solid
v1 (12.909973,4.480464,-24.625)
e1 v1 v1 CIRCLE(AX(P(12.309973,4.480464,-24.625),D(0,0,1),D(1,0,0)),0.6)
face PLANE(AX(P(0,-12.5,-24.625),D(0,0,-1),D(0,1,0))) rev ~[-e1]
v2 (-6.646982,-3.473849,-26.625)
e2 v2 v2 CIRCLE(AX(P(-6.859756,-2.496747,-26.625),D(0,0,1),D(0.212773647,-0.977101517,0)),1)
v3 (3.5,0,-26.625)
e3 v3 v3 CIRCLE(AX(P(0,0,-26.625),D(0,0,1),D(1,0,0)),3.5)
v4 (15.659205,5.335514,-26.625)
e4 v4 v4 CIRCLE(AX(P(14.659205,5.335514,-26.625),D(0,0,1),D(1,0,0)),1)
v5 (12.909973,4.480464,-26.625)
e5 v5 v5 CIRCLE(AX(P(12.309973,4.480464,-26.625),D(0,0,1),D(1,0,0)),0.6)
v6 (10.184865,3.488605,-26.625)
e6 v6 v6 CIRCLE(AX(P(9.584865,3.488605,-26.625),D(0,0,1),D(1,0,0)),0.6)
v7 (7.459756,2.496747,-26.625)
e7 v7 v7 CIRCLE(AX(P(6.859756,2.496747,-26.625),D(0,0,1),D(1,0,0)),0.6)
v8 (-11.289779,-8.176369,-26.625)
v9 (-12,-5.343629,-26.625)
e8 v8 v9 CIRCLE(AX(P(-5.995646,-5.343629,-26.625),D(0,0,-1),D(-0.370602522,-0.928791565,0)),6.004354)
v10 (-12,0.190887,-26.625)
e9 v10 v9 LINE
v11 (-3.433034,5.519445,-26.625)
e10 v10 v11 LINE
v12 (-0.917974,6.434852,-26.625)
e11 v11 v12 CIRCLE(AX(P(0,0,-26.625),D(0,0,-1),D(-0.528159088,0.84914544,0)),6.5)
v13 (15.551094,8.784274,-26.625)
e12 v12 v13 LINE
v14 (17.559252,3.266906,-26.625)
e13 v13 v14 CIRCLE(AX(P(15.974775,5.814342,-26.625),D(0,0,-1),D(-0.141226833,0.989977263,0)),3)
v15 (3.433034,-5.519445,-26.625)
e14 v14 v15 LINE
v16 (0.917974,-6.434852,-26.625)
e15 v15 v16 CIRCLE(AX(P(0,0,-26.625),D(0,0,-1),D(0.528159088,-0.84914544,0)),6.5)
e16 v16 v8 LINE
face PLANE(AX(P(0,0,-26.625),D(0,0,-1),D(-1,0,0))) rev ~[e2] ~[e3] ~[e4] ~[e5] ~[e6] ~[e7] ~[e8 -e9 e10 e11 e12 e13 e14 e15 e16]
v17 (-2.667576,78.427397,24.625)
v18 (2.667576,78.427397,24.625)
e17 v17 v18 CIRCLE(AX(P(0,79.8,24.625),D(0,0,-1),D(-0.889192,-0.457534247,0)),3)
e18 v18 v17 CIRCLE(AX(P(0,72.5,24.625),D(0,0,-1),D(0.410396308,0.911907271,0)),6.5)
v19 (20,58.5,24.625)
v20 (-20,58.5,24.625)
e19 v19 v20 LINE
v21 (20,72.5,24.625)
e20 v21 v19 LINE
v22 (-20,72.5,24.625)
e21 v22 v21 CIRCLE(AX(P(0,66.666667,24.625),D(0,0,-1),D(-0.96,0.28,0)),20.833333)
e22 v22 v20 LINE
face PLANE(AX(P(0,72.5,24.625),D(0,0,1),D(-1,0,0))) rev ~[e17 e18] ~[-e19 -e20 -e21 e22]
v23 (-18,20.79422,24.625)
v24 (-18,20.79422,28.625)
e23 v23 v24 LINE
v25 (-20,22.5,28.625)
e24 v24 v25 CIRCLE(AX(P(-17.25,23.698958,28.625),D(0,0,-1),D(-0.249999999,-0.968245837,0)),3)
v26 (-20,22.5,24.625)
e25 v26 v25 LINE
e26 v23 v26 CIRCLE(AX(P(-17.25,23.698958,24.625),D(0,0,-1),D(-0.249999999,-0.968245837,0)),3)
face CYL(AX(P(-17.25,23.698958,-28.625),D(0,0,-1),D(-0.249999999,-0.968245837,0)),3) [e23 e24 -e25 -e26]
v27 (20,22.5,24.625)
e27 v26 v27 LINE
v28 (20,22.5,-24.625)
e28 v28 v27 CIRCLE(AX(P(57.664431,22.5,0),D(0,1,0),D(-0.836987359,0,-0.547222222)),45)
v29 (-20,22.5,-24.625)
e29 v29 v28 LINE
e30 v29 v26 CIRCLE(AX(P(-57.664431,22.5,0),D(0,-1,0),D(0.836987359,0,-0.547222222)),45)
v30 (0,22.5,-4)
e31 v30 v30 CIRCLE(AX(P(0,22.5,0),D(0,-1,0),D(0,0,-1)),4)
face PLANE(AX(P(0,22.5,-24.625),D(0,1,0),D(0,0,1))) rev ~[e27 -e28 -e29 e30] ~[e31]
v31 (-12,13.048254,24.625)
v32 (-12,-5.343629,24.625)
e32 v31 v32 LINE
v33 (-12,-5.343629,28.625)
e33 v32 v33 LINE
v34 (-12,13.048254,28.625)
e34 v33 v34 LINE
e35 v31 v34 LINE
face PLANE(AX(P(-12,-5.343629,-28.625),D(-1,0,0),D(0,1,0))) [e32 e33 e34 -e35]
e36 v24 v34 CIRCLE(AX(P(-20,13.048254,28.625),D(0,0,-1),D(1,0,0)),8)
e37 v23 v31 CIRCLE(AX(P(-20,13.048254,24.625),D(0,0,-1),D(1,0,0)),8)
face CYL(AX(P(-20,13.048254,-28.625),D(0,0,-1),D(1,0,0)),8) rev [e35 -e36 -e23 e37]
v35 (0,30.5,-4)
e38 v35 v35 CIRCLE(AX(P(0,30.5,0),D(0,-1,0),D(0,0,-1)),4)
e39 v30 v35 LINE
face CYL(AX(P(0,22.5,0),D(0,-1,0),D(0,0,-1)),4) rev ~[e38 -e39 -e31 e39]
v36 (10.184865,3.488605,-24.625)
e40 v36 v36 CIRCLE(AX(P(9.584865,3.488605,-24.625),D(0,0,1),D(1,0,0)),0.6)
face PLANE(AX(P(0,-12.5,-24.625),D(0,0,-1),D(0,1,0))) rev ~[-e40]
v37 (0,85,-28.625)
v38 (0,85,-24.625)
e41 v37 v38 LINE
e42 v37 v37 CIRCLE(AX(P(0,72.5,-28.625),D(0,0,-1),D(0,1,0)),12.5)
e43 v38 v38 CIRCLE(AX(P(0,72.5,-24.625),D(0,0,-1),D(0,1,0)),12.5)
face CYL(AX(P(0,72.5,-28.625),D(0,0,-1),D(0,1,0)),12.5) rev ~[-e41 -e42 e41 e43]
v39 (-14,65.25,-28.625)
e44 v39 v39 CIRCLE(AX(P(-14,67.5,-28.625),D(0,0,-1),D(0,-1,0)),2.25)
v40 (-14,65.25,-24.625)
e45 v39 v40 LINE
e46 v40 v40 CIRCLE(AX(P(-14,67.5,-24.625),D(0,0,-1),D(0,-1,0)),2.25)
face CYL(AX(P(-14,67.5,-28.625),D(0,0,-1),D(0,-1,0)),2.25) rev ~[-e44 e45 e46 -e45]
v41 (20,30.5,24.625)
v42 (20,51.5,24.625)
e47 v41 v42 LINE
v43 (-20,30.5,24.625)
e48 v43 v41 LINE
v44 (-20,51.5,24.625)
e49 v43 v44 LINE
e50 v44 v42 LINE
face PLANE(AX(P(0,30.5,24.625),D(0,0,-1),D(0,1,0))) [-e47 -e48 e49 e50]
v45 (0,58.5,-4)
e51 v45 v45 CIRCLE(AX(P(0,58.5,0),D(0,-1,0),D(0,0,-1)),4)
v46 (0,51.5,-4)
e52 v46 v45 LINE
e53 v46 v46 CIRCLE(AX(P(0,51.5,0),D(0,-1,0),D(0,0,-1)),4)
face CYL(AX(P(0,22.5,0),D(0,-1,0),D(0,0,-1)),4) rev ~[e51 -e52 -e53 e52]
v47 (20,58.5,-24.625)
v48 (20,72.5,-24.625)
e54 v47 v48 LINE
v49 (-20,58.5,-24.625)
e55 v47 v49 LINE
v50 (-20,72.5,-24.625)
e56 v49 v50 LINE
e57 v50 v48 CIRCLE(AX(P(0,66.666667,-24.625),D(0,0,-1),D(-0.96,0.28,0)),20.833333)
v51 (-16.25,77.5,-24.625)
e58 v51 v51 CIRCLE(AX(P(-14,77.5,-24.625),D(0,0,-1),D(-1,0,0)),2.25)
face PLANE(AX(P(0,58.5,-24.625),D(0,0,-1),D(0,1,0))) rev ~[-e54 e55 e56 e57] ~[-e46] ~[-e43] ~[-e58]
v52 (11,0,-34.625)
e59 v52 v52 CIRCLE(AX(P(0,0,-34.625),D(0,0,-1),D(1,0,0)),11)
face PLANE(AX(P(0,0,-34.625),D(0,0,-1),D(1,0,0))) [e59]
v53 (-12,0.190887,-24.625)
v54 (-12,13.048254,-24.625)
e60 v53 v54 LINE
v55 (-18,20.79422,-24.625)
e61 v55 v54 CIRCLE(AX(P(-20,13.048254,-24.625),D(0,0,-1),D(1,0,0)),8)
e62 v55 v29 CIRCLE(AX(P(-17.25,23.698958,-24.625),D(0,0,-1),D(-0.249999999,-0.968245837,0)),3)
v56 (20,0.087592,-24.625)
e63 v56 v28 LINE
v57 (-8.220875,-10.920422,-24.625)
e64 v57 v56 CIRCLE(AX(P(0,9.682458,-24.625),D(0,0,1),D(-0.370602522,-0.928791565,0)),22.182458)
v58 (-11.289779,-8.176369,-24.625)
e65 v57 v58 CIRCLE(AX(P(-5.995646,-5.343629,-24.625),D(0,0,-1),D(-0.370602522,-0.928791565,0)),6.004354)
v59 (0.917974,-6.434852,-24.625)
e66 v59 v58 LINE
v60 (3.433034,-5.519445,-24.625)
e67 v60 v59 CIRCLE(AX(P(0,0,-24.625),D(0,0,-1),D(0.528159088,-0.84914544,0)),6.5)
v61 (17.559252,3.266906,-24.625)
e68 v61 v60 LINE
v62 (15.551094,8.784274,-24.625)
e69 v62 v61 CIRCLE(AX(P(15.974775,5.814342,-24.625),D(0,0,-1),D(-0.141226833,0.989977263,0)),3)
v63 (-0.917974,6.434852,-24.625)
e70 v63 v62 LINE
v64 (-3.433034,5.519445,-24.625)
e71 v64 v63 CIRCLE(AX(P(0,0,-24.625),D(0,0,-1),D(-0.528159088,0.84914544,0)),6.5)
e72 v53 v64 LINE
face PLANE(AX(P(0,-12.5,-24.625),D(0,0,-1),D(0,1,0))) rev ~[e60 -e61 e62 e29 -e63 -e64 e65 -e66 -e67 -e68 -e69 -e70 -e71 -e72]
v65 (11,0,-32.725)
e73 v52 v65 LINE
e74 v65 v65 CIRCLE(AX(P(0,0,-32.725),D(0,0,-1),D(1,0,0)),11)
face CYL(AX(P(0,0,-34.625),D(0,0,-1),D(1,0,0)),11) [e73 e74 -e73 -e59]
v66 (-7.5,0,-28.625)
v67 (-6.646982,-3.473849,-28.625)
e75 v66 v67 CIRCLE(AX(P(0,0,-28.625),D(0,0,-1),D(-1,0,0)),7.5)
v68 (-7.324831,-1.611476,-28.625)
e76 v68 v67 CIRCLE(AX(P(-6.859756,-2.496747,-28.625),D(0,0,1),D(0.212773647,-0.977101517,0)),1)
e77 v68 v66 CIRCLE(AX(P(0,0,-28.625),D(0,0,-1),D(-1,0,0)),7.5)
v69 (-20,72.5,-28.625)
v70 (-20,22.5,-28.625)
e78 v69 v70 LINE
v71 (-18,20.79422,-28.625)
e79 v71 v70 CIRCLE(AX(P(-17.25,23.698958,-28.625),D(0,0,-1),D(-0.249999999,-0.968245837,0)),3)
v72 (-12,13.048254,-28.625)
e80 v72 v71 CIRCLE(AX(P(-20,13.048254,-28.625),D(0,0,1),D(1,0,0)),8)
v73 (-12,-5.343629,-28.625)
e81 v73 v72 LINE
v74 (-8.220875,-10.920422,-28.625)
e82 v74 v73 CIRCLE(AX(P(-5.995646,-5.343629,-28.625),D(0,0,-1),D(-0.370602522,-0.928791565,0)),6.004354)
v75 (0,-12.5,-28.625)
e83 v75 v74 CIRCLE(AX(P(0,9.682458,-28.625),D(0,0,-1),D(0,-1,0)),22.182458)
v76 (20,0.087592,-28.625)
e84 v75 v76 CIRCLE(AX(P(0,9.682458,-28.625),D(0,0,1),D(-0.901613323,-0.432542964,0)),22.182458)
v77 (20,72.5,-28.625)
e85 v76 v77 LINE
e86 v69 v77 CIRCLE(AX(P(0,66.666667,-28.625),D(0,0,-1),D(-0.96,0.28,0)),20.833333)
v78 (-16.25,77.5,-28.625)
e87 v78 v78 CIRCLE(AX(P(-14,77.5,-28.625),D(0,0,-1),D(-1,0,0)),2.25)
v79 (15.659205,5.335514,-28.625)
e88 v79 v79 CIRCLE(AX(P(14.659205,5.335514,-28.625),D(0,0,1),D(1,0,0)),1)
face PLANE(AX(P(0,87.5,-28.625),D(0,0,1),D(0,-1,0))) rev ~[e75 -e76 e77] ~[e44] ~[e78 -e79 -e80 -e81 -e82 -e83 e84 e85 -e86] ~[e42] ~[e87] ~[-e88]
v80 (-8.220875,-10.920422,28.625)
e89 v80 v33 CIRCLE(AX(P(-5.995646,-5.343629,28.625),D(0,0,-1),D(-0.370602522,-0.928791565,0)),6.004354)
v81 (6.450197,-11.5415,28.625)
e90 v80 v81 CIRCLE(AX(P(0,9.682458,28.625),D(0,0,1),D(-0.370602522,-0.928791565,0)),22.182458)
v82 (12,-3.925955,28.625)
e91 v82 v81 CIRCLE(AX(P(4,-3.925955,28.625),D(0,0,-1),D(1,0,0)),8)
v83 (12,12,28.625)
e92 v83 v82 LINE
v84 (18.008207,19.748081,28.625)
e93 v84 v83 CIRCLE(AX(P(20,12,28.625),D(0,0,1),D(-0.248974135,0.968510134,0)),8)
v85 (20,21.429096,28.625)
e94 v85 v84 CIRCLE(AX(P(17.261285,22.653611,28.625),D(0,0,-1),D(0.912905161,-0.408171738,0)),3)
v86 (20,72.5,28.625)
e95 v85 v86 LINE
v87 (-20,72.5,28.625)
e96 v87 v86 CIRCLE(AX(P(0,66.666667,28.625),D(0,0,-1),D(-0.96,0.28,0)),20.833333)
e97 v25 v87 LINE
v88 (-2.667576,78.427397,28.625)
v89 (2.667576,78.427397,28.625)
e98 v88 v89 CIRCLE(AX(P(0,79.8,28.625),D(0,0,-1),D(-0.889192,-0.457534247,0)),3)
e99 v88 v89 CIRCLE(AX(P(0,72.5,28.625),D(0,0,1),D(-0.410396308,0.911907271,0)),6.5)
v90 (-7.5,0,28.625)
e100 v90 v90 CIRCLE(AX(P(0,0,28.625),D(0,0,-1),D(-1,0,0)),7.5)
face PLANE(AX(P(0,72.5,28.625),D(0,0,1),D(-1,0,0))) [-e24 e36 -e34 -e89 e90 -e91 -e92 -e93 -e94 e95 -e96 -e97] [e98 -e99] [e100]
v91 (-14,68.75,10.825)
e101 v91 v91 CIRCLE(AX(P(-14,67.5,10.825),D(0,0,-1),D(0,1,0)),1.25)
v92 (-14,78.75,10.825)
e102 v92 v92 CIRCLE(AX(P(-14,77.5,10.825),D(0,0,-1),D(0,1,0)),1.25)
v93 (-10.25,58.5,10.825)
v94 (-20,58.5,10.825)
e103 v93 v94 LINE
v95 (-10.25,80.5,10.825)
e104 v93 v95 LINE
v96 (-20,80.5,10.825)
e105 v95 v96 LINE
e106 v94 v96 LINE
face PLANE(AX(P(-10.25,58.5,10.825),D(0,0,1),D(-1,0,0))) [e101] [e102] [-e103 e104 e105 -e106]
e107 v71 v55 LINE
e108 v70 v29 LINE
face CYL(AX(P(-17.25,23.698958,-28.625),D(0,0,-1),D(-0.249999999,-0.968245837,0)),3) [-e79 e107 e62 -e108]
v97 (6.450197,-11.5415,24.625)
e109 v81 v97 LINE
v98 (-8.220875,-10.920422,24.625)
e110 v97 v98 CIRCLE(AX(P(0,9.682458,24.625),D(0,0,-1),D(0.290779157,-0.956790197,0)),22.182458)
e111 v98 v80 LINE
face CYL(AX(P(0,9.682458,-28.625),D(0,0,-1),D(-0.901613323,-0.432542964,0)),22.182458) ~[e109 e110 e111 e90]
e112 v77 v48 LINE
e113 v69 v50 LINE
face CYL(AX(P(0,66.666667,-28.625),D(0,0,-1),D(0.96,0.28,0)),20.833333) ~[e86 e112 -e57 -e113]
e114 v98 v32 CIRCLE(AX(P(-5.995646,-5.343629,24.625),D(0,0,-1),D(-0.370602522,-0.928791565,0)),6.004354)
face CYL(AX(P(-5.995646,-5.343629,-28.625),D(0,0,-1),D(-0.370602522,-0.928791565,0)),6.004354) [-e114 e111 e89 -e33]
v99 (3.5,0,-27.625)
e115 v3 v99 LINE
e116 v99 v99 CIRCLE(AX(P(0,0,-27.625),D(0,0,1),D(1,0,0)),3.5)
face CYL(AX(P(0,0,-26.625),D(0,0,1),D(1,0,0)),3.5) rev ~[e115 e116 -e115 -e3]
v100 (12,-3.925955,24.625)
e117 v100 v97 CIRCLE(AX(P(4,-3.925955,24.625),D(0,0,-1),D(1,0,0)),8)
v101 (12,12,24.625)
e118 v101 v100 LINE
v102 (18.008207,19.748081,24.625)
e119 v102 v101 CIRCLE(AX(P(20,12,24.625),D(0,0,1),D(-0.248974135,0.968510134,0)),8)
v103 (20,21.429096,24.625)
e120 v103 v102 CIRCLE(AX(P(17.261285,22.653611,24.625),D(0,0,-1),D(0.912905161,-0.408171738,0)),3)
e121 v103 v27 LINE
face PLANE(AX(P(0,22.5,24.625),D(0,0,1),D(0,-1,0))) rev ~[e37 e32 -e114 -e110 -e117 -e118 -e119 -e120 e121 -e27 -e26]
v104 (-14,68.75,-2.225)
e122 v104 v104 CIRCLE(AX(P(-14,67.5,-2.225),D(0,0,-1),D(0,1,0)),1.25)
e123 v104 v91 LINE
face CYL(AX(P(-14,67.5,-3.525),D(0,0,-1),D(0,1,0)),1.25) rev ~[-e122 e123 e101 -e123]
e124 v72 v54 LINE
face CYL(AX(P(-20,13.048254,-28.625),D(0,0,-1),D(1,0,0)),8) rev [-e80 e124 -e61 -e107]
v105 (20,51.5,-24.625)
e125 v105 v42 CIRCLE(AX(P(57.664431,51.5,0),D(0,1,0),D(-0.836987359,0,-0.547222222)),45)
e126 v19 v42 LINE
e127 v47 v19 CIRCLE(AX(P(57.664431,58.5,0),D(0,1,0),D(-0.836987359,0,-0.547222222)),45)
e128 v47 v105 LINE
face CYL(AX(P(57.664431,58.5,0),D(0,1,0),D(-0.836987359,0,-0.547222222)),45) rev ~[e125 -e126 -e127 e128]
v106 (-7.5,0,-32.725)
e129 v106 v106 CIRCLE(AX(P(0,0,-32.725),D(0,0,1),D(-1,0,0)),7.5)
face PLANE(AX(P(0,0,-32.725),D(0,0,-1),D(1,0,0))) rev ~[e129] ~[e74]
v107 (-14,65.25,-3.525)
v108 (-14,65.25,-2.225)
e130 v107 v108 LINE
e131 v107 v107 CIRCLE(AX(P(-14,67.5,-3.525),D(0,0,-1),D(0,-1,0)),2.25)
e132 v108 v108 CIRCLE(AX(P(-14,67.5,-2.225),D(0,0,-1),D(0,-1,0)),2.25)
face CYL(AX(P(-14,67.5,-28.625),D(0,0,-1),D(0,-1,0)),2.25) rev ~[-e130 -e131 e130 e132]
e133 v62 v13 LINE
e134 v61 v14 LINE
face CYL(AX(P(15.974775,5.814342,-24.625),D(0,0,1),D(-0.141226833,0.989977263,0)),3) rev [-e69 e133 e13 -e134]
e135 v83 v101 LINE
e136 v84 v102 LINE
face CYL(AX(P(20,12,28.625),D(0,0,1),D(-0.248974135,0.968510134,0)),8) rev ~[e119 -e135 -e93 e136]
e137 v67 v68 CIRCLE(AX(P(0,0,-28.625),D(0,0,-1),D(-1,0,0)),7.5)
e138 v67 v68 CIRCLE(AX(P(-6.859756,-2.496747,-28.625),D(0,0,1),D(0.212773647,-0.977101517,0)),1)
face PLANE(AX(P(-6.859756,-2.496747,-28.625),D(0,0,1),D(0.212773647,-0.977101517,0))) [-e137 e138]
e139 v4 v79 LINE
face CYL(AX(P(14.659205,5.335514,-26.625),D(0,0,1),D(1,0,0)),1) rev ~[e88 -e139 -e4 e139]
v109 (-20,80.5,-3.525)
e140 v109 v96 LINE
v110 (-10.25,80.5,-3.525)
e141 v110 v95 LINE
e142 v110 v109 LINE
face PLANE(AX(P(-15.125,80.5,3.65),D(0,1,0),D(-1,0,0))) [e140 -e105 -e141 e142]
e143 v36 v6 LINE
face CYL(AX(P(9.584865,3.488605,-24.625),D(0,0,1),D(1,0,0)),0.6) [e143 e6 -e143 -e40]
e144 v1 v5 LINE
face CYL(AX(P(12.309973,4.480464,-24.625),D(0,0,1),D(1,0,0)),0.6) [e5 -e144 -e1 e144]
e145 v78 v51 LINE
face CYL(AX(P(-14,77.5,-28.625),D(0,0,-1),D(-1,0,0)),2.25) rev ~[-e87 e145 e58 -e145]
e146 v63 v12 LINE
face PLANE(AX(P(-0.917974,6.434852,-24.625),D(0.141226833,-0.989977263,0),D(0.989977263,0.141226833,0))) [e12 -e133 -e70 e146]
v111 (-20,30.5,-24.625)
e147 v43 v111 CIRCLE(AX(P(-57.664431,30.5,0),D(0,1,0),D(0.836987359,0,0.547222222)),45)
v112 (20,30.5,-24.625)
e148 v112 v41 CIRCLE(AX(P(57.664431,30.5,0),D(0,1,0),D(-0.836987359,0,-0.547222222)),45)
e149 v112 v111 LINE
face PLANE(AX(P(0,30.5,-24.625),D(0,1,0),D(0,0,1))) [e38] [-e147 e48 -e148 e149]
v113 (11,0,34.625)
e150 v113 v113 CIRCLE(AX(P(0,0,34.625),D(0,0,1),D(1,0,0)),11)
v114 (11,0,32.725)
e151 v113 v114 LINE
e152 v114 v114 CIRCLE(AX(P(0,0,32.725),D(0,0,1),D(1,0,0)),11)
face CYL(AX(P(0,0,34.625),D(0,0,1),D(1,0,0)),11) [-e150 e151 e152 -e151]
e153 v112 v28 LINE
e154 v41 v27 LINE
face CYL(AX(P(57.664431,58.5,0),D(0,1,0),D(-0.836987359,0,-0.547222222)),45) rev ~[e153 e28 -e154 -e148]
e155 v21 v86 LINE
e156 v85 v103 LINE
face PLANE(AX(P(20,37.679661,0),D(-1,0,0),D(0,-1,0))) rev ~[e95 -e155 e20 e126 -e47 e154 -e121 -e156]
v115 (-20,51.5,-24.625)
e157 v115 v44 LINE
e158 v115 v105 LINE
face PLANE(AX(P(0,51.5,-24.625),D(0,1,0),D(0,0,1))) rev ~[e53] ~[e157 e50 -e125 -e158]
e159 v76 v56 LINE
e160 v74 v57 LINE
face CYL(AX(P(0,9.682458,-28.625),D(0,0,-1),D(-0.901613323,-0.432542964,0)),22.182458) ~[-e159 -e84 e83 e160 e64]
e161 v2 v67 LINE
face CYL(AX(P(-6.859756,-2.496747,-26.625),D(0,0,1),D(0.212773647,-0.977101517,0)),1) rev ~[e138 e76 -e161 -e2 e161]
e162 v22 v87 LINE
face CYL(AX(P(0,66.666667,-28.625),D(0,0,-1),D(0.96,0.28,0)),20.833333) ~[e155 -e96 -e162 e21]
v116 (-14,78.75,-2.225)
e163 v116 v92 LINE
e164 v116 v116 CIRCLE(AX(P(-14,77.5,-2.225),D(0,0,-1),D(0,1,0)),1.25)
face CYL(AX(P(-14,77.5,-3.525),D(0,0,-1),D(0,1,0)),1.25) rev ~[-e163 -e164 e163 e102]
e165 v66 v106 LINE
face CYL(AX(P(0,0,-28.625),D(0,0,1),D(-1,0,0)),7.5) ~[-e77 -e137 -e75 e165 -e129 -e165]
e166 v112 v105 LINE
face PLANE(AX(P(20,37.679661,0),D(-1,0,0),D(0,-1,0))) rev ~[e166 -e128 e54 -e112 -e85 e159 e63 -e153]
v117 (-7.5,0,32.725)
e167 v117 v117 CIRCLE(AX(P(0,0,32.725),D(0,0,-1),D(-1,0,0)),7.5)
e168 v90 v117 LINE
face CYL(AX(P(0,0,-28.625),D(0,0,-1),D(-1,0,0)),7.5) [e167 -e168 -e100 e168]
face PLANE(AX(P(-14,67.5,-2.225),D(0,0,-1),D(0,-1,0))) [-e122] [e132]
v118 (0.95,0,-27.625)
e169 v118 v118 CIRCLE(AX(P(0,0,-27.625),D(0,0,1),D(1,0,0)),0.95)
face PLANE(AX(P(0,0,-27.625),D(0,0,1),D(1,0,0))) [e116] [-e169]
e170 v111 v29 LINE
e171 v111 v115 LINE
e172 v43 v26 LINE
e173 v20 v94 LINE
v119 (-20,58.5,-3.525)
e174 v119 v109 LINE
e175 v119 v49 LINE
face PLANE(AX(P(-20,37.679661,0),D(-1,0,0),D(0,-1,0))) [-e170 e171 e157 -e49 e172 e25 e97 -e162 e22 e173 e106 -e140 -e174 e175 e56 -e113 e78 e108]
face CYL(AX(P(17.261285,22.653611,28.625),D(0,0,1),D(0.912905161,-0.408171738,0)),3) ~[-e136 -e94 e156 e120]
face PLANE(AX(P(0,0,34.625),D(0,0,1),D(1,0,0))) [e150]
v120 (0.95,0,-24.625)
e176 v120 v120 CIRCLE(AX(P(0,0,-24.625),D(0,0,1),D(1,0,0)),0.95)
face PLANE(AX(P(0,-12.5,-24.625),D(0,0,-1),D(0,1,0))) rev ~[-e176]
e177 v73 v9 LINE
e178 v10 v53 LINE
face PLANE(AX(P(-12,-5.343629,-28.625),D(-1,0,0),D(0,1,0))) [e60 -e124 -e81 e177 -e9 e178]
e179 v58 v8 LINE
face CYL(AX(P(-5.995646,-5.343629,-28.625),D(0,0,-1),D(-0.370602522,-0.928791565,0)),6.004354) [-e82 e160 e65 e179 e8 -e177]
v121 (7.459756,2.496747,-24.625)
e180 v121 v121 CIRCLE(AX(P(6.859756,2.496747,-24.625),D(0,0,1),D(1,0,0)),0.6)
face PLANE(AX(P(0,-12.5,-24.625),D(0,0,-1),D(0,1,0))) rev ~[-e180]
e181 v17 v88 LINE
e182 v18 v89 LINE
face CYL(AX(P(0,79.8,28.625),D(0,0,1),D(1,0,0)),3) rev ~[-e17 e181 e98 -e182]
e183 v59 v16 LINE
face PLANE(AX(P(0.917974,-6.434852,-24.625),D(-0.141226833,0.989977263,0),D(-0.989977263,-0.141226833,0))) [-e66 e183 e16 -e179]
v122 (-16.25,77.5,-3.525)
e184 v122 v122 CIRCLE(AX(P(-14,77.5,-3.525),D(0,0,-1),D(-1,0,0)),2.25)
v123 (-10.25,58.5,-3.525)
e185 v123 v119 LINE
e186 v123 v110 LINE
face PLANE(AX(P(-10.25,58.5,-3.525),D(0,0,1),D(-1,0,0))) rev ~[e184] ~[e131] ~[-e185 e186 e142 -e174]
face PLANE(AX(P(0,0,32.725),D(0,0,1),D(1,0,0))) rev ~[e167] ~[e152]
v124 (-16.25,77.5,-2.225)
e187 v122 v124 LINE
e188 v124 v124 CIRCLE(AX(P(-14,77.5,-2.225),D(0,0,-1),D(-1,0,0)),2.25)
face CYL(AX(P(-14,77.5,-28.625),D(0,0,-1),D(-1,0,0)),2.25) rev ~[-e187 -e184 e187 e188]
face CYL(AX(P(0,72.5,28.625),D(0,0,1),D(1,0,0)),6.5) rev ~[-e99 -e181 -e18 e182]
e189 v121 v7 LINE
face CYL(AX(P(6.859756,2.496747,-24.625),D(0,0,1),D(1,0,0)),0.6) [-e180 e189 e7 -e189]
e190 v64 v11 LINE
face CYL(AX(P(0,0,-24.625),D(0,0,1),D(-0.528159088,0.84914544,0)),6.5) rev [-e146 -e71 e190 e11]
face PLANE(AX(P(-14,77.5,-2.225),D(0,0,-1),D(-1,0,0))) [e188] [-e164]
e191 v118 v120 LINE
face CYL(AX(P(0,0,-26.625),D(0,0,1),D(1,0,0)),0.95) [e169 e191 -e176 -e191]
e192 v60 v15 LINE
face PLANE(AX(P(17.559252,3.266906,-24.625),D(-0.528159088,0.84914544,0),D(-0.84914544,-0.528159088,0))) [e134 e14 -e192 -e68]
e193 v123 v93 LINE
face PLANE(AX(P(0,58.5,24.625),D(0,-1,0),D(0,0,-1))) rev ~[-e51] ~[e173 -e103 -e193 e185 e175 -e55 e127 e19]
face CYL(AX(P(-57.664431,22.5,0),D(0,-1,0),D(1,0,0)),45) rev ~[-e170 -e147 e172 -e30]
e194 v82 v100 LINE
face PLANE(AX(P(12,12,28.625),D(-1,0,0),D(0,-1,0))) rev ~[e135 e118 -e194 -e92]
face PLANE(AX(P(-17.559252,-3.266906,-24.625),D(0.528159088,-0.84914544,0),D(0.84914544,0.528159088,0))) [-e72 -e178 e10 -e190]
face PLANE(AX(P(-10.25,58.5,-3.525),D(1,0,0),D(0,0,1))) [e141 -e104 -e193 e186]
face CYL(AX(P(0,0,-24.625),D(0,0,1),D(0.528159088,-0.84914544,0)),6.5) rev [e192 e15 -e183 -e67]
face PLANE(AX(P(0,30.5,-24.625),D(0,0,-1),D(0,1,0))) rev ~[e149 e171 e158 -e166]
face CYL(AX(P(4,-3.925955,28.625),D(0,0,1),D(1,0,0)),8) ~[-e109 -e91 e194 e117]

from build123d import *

# Parameters (mm, degrees)
SKETCH1_W                = 21
SKETCH1_H                = 49.25
BOSS_EXTRUDE1_DEPTH      = 20
SKETCH4_R                = 7.5
BOSS_EXTRUDE2_DEPTH      = 6
BOSS_EXTRUDE2_DEPTH_BACK = 63.25
SKETCH2_W                = 50
SKETCH2_H                = 112.412407925
SKETCH2_R                = 12.5
CUT_EXTRUDE1_DEPTH       = 110.803517703
CUT_EXTRUDE1_DEPTH_BACK  = 110.803517703
SKETCH5_W                = 20
SKETCH5_H                = 49.25
CUT_EXTRUDE2_DEPTH       = 103.250382029
CUT_EXTRUDE3_DEPTH       = 110.803517703
SKETCH7_W                = 9.75
SKETCH7_H                = 14.35
BOSS_EXTRUDE3_DEPTH      = 22
CUT_EXTRUDE4_REACH       = 99.528
SKETCH8_R                = 1.25
SKETCH9_R                = 2.25
CUT_EXTRUDE5_DEPTH       = 26.4
SKETCH10_R               = 0.6
SKETCH10_R_2             = 0.95
CUT_EXTRUDE6_DEPTH       = 2
SKETCH17_R               = 3.5
SKETCH17_R_2             = 0.95
CUT_EXTRUDE11_DEPTH      = 1
SKETCH11_R               = 1
CUT_EXTRUDE7_DEPTH       = 2
CUT_EXTRUDE8_DEPTH       = 4
CUT_EXTRUDE9_DEPTH       = 82.485524021
SKETCH14_R               = 12.5
SKETCH14_R_2             = 6.5
BOSS_EXTRUDE4_DEPTH      = 4
SKETCH16_R               = 3
CUT_EXTRUDE10_DEPTH      = 4
SKETCH18_R               = 11
BOSS_EXTRUDE5_DEPTH      = 1.9
SKETCH19_R               = 11
BOSS_EXTRUDE6_DEPTH      = 1.9
SKETCH20_R               = 4
CUT_EXTRUDE12_DEPTH      = 75
SKETCH22_R               = 45
CUT_EXTRUDE14_DEPTH      = 8


with BuildPart() as part:
    # Sketch1 → Boss-Extrude1 (new, symmetric)
    with BuildSketch(Plane.YZ):
        Polygon((-12.5, 24.625), (-12.5, 28.625), (87.5, 28.625), (87.5, 24.625), (58.5, 24.625), (58.5, -24.625), (87.5, -24.625), (87.5, -28.625), (-12.5, -28.625), (-12.5, -24.625), (22.5, -24.625), (22.5, 24.625), align=None)
        with Locations((41, 0)):
            Rectangle(SKETCH1_W, SKETCH1_H, mode=Mode.SUBTRACT)
    extrude(amount=BOSS_EXTRUDE1_DEPTH, both=True)

    # Sketch4 → Boss-Extrude2 (add, two sides)
    with BuildSketch(Plane(origin=(0, 0, -28.625), x_dir=(1, 0, 0), z_dir=(0, 0, -1))) as boss_extrude2_sk:
        with Locations(Location((0, 0, 0), (0, 0, 180))):
            Circle(SKETCH4_R)
    extrude(amount=BOSS_EXTRUDE2_DEPTH)
    extrude(boss_extrude2_sk.sketch, amount=-BOSS_EXTRUDE2_DEPTH_BACK)

    # Sketch2 → Cut-Extrude1 (cut, two sides)
    with BuildSketch(Plane(origin=(0, 0, -28.625), x_dir=(1, 0, 0), z_dir=(0, 0, -1))) as cut_extrude1_sk:
        with Locations((0, -36.293796038)):
            Rectangle(SKETCH2_W, SKETCH2_H)
        with BuildLine():
            Line((20, -0.087592075), (20, -72.5))
            ThreePointArc((20, -72.5), (0, -87.5), (-20, -72.5))
            Line((-20, -72.5), (-20, -0.087592075))
            ThreePointArc((-20, -0.087592075), (0, 12.5), (20, -0.087592075))
        make_face(mode=Mode.SUBTRACT)
        with Locations(Location((0, -72.5, 0), (0, 0, 270))):
            Circle(SKETCH2_R)
    extrude(amount=CUT_EXTRUDE1_DEPTH, mode=Mode.SUBTRACT)
    extrude(cut_extrude1_sk.sketch, amount=-CUT_EXTRUDE1_DEPTH_BACK, mode=Mode.SUBTRACT)

    # Sketch5 → Cut-Extrude2 (cut, through all)
    with BuildSketch(Plane.YZ.offset(20)):
        Rectangle(SKETCH5_W, SKETCH5_H)
    extrude(amount=-CUT_EXTRUDE2_DEPTH, mode=Mode.SUBTRACT)

    # Sketch6 → Cut-Extrude3 (cut, through all)
    with BuildSketch(Plane(origin=(0, 0, -28.625), x_dir=(1, 0, 0), z_dir=(0, 0, -1))):
        with BuildLine():
            Line((-12, 5.343628911), (-12, -13.048253679))
            ThreePointArc((-12, -13.048253679), (-13.67544468, -17.947233164), (-18, -20.794220371))
            ThreePointArc((-18, -20.794220371), (-19.196771953, -21.416398141), (-20, -22.5))
            Line((-20, -22.5), (-20, 15.418169496))
            Line((-20, 15.418169496), (0, 15.418169496))
            Line((0, 15.418169496), (0, 12.5))
            ThreePointArc((0, 12.5), (-4.185625792, 12.101526483), (-8.220875011, 10.92042185))
            ThreePointArc((-8.220875011, 10.92042185), (-10.966225922, 8.711952128), (-12, 5.343628911))
        make_face()
    extrude(amount=-CUT_EXTRUDE3_DEPTH, mode=Mode.SUBTRACT)

    # Sketch7 → Boss-Extrude3 (add)
    with BuildSketch(Plane(origin=(0, 58.5, 0), x_dir=(-1, 0, 0), z_dir=(0, 1, 0))):
        with Locations((15.125, 3.65)):
            Rectangle(SKETCH7_W, SKETCH7_H)
    extrude(amount=BOSS_EXTRUDE3_DEPTH)

    # Sketch8 → Cut-Extrude4 (cut, up to next)
    with BuildSketch(Plane(origin=(0, 0, -3.525), x_dir=(1, 0, 0), z_dir=(0, 0, -1)), mode=Mode.PRIVATE) as cut_extrude4_sk1:
        with Locations(Location((-14, -67.5, 0), (0, 0, 270))):
            Circle(SKETCH8_R)
    cut_extrude4_tool1 = extrude(cut_extrude4_sk1.sketch, amount=-CUT_EXTRUDE4_REACH, mode=Mode.PRIVATE) & part.part
    # Sketch8 → Cut-Extrude4 (cut, up to next)
    with BuildSketch(Plane(origin=(0, 0, -3.525), x_dir=(1, 0, 0), z_dir=(0, 0, -1)), mode=Mode.PRIVATE) as cut_extrude4_sk2:
        with Locations(Location((-14, -77.5, 0), (0, 0, 270))):
            Circle(SKETCH8_R)
    cut_extrude4_tool2 = extrude(cut_extrude4_sk2.sketch, amount=-CUT_EXTRUDE4_REACH, mode=Mode.PRIVATE) & part.part
    add(cut_extrude4_tool1.solids().sort_by_distance((-14, 67.5, -3.525))[0], mode=Mode.SUBTRACT)
    add(cut_extrude4_tool2.solids().sort_by_distance((-14, 77.5, -3.525))[0], mode=Mode.SUBTRACT)

    # Sketch9 → Cut-Extrude5 (cut)
    with BuildSketch(Plane(origin=(0, 0, -28.625), x_dir=(1, 0, 0), z_dir=(0, 0, -1))):
        with Locations(Location((-14, -77.5, 0), (0, 0, 180))):
            Circle(SKETCH9_R)
        with Locations(Location((-14, -67.5, 0), (0, 0, 90))):
            Circle(SKETCH9_R)
    extrude(amount=-CUT_EXTRUDE5_DEPTH, mode=Mode.SUBTRACT)

    # Sketch10 → Cut-Extrude6 (cut)
    with BuildSketch(Plane.XY.offset(-24.625)):
        with BuildLine():
            Line((-0.917974412, 6.434852211), (15.551094055, 8.784274226))
            ThreePointArc((15.551094055, 8.784274226), (18.793852416, 6.840402867), (17.559251818, 3.266906118))
            Line((17.559251818, 3.266906118), (3.433034074, -5.519445357))
            ThreePointArc((3.433034074, -5.519445357), (2.223130932, -6.108002035), (0.917974412, -6.434852211))
            Line((0.917974412, -6.434852211), (-15.551094055, -8.784274226))
            ThreePointArc((-15.551094055, -8.784274226), (-18.793852416, -6.840402867), (-17.559251818, -3.266906118))
            Line((-17.559251818, -3.266906118), (-3.433034074, 5.519445357))
            ThreePointArc((-3.433034074, 5.519445357), (-2.223130932, 6.108002035), (-0.917974412, 6.434852211))
        make_face()
        with Locations((12.309973332, 4.480463878)):
            Circle(SKETCH10_R, mode=Mode.SUBTRACT)
        with Locations((9.584864732, 3.488605462)):
            Circle(SKETCH10_R, mode=Mode.SUBTRACT)
        with Locations((6.859756132, 2.496747046)):
            Circle(SKETCH10_R, mode=Mode.SUBTRACT)
        Circle(SKETCH10_R_2, mode=Mode.SUBTRACT)
    extrude(amount=-CUT_EXTRUDE6_DEPTH, mode=Mode.SUBTRACT)

    # Sketch17 → Cut-Extrude11 (cut)
    with BuildSketch(Plane.XY.offset(-26.625)):
        Circle(SKETCH17_R)
        Circle(SKETCH17_R_2, mode=Mode.SUBTRACT)
    extrude(amount=-CUT_EXTRUDE11_DEPTH, mode=Mode.SUBTRACT)

    # Sketch11 → Cut-Extrude7 (cut)
    with BuildSketch(Plane.XY.offset(-26.625)):
        with Locations((14.659204884, 5.335514236)):
            Circle(SKETCH11_R)
        with Locations(Location((-6.859756132, -2.496747046, 0), (0, 0, 282.284944741))):
            Circle(SKETCH11_R)
    extrude(amount=-CUT_EXTRUDE7_DEPTH, mode=Mode.SUBTRACT)

    # Sketch12 → Cut-Extrude8 (cut)
    with BuildSketch(Plane.XY.offset(28.625)):
        with BuildLine():
            Line((0, -12.5), (0, -18.039119765))
            Line((0, -18.039119765), (20, -18.039119765))
            Line((20, -18.039119765), (20, 21.429096263))
            ThreePointArc((20, 21.429096263), (19.196193013, 20.360986537), (18.008206922, 19.748081074))
            ThreePointArc((18.008206922, 19.748081074), (13.678040469, 16.902328803), (12, 12))
            Line((12, 12), (12, -3.925954614))
            ThreePointArc((12, -3.925954614), (10.465352752, -8.637558778), (6.450196551, -11.541500351))
            ThreePointArc((6.450196551, -11.541500351), (3.264426341, -12.285407289), (0, -12.5))
        make_face()
    extrude(amount=-CUT_EXTRUDE8_DEPTH, mode=Mode.SUBTRACT)

    # Sketch13 → Cut-Extrude9 (cut, through all)
    with BuildSketch(Plane(origin=(0, 58.5, 0), x_dir=(-1, 0, 0), z_dir=(0, 1, 0))):
        with BuildLine():
            Line((-20, 24.625), (-20, -24.625))
            ThreePointArc((-20, -24.625), (-12.664431165, 0), (-20, 24.625))
        make_face()
    extrude(amount=-CUT_EXTRUDE9_DEPTH, mode=Mode.SUBTRACT)

    # Sketch14 → Boss-Extrude4 (add)
    with BuildSketch(Plane.XY.offset(28.625)):
        with Locations(Location((0, 72.5, 0), (0, 0, 180))):
            Circle(SKETCH14_R)
        with Locations((0, 72.5)):
            Circle(SKETCH14_R_2, mode=Mode.SUBTRACT)
    extrude(amount=-BOSS_EXTRUDE4_DEPTH)

    # Sketch16 → Cut-Extrude10 (cut)
    with BuildSketch(Plane.XY.offset(28.625)):
        with Locations((0, 79.8)):
            Circle(SKETCH16_R)
    extrude(amount=-CUT_EXTRUDE10_DEPTH, mode=Mode.SUBTRACT)

    # Sketch18 → Boss-Extrude5 (add)
    with BuildSketch(Plane.XY.offset(34.625)):
        Circle(SKETCH18_R)
    extrude(amount=-BOSS_EXTRUDE5_DEPTH)

    # Sketch19 → Boss-Extrude6 (add)
    with BuildSketch(Plane(origin=(0, 0, -34.625), x_dir=(1, 0, 0), z_dir=(0, 0, -1))):
        Circle(SKETCH19_R)
    extrude(amount=-BOSS_EXTRUDE6_DEPTH)

    # Sketch20 → Cut-Extrude12 (cut)
    with BuildSketch(Plane.XZ.offset(-22.5)):
        with Locations(Location((0, 0, 0), (0, 0, 270))):
            Circle(SKETCH20_R)
    extrude(amount=-CUT_EXTRUDE12_DEPTH, mode=Mode.SUBTRACT)

    # Sketch22 → Cut-Extrude14 (cut)
    with BuildSketch(Plane.XZ.offset(-22.5)):
        with Locations((-57.664431165, 0)):
            Circle(SKETCH22_R)
    extrude(amount=-CUT_EXTRUDE14_DEPTH, mode=Mode.SUBTRACT)


solid = part.part
